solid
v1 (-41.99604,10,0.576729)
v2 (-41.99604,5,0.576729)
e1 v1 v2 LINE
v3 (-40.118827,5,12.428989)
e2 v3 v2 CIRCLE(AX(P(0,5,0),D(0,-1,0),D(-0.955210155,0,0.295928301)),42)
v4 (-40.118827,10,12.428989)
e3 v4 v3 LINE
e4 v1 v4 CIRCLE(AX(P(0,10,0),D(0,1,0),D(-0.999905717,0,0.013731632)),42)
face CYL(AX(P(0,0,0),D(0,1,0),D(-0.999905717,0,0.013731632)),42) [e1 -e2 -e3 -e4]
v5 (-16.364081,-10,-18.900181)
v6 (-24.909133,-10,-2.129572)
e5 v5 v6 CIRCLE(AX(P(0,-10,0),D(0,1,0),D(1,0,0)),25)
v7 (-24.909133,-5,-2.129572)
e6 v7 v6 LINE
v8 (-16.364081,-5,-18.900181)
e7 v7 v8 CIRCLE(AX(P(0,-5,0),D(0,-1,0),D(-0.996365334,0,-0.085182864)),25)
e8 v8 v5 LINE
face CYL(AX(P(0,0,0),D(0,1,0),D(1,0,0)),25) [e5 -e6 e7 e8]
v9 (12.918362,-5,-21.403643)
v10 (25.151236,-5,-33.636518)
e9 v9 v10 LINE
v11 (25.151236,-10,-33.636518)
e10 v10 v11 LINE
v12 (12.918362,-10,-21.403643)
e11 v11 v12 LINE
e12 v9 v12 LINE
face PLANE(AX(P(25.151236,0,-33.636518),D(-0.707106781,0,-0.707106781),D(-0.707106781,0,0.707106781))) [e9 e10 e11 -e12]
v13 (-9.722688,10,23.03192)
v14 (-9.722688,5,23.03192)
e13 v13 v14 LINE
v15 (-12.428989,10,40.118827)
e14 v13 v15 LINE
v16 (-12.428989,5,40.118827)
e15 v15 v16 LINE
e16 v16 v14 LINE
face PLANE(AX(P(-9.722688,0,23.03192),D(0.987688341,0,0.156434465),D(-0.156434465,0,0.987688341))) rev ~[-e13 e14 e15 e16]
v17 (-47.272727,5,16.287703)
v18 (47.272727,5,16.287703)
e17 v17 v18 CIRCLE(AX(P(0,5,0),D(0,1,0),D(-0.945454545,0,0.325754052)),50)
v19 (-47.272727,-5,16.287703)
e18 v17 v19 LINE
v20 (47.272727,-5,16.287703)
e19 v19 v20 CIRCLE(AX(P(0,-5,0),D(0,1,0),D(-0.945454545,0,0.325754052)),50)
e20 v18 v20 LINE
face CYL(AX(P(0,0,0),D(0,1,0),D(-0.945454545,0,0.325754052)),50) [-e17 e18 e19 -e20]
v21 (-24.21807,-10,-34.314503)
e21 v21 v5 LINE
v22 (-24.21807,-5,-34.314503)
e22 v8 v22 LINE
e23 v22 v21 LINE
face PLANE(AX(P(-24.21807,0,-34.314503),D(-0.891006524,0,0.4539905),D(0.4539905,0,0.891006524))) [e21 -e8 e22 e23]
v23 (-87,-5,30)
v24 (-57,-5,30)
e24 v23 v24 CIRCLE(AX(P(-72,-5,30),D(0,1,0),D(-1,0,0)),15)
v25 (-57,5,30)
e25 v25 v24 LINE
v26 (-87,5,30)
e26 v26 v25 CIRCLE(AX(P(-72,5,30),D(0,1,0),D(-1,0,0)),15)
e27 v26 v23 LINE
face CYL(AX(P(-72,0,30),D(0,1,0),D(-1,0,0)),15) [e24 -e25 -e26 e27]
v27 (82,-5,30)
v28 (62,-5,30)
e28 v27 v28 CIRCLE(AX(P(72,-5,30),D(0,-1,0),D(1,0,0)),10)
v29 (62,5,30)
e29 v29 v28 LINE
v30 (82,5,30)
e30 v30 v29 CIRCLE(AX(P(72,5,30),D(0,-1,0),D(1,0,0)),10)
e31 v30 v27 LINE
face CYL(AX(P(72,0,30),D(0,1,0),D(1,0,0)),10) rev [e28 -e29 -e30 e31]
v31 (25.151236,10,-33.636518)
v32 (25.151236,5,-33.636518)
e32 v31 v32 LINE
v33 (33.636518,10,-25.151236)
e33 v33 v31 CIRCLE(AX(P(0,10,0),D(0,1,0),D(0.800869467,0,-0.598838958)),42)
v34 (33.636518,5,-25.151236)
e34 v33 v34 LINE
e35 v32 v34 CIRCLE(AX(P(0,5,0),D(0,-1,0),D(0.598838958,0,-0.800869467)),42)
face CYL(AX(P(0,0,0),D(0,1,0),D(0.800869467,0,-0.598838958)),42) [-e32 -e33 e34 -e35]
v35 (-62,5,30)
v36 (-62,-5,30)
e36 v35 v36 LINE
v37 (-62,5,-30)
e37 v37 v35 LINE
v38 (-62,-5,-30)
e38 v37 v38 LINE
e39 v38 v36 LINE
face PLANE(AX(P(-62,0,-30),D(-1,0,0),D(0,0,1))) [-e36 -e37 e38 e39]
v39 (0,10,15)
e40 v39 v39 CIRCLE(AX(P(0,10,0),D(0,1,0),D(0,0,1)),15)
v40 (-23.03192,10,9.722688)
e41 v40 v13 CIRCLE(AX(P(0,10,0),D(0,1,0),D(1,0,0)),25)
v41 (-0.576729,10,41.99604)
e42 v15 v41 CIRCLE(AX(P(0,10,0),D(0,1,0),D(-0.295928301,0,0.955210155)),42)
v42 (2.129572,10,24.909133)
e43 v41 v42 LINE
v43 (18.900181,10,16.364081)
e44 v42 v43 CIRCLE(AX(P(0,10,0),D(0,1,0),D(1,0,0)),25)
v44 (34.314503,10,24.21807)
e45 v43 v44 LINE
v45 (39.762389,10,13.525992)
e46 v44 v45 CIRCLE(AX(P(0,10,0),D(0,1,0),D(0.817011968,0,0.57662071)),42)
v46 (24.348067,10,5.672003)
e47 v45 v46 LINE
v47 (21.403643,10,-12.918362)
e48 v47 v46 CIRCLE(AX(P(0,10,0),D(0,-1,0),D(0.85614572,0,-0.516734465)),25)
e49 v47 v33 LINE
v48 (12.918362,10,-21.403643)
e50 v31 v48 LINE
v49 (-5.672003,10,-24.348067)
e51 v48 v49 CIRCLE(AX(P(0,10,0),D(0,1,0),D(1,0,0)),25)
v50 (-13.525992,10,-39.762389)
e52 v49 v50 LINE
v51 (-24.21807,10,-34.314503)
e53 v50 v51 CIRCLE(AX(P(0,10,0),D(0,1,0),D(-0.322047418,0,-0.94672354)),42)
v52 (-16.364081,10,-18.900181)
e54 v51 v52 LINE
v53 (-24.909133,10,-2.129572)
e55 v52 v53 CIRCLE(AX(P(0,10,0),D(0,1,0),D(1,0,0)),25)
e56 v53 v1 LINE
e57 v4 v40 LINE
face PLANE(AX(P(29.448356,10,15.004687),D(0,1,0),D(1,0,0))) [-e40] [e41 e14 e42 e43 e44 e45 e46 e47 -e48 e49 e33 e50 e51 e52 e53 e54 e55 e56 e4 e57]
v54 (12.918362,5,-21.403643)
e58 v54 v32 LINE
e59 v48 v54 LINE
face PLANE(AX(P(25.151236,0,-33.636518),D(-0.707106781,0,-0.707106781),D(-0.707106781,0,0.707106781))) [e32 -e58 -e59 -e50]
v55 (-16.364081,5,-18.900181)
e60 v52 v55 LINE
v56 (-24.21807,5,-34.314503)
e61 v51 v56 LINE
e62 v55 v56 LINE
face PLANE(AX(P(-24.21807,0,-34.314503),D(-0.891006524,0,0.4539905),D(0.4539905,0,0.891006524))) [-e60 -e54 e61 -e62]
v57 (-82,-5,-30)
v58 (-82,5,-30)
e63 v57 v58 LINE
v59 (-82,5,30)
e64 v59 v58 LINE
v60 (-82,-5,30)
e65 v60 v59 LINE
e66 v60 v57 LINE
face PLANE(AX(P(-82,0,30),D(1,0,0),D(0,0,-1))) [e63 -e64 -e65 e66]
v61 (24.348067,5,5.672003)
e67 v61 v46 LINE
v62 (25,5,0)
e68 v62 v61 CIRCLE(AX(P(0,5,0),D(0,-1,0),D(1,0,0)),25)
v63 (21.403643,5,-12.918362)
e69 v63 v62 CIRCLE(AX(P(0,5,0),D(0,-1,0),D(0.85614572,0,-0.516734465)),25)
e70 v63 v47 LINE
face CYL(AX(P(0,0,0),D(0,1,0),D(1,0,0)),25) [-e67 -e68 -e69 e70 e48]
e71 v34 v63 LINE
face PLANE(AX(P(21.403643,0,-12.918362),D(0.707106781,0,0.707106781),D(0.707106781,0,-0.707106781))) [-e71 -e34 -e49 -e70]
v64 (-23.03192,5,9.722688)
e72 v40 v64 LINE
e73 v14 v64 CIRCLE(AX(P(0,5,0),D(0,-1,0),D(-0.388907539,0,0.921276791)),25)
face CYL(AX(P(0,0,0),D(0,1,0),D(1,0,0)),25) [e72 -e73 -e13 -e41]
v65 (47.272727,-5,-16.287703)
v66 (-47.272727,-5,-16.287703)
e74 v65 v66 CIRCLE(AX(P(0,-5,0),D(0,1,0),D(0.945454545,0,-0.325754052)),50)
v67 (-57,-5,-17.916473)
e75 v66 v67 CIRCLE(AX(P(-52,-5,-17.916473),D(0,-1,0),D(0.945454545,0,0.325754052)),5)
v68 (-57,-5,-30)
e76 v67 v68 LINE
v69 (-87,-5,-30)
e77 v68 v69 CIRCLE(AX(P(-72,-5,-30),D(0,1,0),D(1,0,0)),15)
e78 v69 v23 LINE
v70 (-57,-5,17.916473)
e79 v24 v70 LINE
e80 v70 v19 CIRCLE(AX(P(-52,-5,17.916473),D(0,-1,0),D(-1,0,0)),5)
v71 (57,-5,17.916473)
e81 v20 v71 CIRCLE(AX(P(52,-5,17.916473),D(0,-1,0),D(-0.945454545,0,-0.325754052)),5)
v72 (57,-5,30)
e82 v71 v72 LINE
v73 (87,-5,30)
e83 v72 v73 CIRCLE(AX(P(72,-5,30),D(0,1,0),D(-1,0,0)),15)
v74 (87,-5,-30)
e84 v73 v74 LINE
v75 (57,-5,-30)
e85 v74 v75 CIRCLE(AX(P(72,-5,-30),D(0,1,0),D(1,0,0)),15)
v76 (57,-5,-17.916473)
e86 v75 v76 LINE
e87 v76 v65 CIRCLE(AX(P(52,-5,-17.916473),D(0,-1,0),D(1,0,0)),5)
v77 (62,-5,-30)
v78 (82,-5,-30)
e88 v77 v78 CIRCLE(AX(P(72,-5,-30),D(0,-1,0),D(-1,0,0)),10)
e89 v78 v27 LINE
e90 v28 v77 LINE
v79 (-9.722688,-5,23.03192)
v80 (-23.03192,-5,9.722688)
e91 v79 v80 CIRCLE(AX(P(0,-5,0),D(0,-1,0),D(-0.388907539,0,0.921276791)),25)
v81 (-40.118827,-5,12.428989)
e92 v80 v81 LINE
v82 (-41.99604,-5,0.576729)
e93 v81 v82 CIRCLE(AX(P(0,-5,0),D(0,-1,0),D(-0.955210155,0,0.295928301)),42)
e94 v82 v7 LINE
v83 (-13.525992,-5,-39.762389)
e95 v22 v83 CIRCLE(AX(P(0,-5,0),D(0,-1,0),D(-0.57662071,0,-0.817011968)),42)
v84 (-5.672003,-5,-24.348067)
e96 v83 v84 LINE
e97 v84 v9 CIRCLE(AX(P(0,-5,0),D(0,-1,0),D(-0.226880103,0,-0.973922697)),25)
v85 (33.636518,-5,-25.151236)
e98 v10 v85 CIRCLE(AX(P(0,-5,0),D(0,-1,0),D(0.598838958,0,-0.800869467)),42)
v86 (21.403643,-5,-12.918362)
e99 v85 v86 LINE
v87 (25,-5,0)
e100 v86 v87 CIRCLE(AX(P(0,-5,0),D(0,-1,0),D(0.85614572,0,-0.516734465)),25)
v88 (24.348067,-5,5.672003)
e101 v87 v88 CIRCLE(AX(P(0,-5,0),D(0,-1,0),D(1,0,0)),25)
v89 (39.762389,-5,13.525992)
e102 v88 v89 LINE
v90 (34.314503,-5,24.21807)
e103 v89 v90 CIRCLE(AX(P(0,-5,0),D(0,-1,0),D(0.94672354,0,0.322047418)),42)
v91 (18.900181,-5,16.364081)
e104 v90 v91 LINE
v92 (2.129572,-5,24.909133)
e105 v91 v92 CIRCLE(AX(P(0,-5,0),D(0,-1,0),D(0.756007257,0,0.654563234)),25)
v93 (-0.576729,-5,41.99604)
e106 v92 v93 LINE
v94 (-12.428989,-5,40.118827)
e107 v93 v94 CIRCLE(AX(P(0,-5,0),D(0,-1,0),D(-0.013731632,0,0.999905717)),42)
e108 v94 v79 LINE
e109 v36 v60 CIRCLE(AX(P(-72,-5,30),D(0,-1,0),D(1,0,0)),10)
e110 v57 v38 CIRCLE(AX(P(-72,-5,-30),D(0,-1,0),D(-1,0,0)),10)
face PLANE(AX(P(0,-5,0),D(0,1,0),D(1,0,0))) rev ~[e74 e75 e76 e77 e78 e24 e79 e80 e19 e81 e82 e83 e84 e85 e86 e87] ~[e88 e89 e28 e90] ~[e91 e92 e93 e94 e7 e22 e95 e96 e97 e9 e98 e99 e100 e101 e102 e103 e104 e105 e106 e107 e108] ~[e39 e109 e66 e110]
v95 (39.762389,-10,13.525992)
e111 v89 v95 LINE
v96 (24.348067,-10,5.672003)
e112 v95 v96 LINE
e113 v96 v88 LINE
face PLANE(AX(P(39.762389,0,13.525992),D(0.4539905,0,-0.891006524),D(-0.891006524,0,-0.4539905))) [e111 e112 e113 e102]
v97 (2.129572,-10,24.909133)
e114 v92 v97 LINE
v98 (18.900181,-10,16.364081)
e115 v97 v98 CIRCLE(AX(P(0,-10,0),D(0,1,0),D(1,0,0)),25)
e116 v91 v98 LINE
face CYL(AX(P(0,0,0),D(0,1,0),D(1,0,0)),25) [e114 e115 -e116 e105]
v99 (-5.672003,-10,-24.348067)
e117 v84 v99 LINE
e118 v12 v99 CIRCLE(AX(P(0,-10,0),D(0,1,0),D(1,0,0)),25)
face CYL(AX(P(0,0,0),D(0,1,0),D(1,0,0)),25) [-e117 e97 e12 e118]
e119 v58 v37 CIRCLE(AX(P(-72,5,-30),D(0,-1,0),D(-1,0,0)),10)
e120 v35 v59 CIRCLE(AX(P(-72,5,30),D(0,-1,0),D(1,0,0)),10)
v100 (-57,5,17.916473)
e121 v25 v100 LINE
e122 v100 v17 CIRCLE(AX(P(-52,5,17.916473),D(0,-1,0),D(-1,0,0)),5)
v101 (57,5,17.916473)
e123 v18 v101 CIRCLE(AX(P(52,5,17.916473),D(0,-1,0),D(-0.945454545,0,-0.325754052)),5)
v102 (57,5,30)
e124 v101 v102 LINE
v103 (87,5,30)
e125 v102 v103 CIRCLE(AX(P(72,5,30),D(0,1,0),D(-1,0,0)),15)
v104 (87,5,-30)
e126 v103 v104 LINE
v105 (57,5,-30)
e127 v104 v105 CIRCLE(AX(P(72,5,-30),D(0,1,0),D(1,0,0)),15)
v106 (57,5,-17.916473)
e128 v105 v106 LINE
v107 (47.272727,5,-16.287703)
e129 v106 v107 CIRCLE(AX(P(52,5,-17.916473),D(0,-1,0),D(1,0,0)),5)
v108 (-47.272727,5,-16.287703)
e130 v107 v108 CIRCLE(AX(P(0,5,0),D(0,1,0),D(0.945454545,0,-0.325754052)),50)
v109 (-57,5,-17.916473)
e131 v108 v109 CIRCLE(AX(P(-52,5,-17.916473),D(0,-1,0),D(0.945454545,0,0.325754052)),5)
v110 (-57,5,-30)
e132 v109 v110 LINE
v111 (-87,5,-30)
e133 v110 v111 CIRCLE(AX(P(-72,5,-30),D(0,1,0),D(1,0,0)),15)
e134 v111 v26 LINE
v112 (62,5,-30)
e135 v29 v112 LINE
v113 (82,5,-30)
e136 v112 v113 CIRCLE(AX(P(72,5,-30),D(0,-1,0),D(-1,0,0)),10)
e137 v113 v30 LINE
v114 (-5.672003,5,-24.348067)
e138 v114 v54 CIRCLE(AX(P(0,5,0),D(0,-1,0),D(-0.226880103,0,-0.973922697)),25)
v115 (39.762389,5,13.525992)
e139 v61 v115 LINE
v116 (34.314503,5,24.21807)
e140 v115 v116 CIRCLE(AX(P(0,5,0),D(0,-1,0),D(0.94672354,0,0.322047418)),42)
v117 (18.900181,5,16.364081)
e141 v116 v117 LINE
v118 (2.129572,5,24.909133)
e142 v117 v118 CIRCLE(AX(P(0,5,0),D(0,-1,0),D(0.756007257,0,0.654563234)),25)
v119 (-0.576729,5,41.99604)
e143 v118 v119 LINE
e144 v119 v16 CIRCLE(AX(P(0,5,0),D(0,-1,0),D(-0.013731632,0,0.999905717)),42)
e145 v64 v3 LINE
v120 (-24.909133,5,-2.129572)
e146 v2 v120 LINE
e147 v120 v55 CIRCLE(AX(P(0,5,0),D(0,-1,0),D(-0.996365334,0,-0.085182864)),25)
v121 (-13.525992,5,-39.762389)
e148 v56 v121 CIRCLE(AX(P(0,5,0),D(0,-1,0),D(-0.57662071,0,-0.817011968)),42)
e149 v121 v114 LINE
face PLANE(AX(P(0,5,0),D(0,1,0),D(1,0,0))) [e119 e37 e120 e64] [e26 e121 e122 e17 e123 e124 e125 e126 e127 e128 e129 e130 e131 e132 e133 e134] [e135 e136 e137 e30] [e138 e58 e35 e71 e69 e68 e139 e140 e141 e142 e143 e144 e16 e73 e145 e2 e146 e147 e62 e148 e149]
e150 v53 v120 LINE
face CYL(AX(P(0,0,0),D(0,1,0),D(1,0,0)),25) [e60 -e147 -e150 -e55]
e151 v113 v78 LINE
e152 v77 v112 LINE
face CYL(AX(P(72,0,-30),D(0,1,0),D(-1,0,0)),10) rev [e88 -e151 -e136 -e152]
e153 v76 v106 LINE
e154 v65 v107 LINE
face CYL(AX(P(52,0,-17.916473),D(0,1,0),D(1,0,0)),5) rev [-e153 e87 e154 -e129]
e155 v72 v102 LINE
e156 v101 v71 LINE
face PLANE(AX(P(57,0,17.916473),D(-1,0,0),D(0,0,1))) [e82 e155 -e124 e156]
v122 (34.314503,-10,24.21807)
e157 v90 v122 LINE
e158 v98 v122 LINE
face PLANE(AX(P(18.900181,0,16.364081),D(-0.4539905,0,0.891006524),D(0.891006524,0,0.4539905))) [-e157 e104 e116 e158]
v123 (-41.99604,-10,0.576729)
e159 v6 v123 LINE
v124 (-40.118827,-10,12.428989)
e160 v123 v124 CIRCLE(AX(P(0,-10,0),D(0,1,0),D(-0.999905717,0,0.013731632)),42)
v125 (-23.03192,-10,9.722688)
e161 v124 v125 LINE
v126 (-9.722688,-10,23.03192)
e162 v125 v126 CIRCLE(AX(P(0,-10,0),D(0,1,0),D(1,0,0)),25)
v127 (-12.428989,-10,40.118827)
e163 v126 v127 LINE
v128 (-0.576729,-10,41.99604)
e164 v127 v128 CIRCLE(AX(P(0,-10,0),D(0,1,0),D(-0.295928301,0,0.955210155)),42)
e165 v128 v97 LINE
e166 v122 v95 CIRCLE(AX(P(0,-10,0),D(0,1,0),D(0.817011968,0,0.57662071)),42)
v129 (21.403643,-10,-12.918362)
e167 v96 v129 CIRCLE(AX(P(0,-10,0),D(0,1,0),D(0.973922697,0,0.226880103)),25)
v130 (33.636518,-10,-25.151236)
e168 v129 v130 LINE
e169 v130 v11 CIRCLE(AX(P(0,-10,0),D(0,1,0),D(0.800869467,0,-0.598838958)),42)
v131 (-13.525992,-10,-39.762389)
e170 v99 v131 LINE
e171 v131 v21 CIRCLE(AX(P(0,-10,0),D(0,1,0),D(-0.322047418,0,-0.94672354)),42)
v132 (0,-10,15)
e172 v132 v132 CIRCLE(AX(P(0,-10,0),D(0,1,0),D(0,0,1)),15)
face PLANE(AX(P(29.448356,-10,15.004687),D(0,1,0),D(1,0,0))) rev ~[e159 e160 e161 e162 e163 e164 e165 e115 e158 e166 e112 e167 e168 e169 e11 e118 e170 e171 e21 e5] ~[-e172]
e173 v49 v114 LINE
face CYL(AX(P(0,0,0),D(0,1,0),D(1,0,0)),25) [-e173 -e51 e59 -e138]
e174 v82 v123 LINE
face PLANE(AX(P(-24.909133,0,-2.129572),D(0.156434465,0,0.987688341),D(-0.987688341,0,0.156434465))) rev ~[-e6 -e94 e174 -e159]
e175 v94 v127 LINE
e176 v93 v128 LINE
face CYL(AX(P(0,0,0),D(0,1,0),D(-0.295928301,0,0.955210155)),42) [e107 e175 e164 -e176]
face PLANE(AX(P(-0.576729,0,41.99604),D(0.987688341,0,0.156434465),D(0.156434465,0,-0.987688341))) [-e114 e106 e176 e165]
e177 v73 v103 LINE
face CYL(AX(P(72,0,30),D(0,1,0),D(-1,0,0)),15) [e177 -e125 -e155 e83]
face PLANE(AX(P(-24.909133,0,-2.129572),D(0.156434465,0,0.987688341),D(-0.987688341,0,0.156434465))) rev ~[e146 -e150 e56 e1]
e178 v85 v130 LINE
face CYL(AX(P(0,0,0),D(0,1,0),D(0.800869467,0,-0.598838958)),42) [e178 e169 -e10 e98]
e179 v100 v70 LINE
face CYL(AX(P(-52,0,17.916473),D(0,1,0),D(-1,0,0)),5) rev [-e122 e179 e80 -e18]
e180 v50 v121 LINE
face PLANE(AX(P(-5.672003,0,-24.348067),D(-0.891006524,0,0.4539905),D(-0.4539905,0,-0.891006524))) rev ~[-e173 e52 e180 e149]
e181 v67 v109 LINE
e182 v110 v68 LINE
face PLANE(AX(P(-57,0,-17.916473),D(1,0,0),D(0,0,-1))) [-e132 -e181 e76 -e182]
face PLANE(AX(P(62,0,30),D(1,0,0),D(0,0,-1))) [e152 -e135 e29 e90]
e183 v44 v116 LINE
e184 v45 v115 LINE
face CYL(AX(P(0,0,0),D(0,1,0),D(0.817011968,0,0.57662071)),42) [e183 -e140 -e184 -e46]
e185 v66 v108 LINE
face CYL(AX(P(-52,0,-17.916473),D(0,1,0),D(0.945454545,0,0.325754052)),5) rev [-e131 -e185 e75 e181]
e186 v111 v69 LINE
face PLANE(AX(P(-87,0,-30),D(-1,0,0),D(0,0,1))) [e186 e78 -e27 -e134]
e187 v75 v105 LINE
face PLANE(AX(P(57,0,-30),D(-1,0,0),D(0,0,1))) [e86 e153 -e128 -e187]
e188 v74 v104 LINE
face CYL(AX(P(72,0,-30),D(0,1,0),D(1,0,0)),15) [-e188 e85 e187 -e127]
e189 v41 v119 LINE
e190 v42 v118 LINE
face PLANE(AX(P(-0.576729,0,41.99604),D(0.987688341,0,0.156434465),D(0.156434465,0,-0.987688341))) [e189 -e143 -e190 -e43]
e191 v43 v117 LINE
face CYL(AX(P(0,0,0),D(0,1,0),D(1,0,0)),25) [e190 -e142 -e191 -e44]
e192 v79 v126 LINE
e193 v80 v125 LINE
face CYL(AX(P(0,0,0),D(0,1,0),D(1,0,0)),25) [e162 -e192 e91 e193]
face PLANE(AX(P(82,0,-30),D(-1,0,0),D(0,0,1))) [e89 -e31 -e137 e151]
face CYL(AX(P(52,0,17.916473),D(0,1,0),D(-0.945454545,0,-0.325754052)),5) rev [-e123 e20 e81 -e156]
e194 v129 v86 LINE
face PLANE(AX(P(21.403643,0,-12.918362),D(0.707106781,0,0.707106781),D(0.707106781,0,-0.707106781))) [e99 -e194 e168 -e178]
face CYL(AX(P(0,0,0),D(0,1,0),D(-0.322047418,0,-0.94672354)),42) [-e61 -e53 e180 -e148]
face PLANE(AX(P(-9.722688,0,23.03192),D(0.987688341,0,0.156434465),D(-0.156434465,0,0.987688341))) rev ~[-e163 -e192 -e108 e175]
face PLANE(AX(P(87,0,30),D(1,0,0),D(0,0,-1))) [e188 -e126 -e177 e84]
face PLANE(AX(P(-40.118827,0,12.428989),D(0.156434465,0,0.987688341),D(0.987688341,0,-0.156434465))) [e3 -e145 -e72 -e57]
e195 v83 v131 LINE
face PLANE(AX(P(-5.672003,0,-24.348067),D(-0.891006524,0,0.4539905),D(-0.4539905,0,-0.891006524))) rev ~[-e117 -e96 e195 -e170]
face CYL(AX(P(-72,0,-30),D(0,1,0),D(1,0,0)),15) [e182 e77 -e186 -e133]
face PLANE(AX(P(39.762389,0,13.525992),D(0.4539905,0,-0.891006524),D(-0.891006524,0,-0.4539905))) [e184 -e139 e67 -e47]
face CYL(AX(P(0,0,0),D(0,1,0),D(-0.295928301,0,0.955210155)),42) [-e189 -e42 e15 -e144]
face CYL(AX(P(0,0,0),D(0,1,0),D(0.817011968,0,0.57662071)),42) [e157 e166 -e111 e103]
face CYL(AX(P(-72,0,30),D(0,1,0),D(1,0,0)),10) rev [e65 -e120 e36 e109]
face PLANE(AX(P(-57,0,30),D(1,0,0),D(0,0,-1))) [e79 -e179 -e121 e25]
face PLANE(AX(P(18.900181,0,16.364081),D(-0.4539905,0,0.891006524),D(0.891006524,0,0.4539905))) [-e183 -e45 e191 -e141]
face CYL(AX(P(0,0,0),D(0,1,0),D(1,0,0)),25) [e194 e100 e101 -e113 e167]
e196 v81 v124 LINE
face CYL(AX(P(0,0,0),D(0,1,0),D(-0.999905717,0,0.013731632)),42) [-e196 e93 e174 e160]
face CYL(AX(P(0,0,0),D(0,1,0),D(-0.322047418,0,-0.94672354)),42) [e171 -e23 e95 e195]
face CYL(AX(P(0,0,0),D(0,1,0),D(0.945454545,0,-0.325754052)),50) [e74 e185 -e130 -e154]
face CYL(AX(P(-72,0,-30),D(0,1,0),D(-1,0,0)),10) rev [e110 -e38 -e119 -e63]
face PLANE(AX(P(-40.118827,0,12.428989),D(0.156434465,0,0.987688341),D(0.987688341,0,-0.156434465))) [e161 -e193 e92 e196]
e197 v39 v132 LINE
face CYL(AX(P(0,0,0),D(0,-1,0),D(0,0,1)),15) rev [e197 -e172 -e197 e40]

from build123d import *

# Parameters (mm, degrees)
SKETCH1_R           = 15
BOSS_EXTRUDE1_DEPTH = 10
BOSS_EXTRUDE2_DEPTH = 5


with BuildPart() as part:
    # Sketch1 → Boss-Extrude1 (new, symmetric)
    with BuildSketch(Plane(origin=(0, 0, 0), x_dir=(1, 0, 0), z_dir=(0, 1, 0))):
        with BuildLine():
            Line((25.151236226, 33.636517601), (12.918361615, 21.403642989))
            ThreePointArc((12.918361615, 21.403642989), (3.910861626, 24.692208515), (-5.672002568, 24.348067415))
            Line((-5.672002568, 24.348067415), (-13.525991536, 39.762388673))
            ThreePointArc((-13.525991536, 39.762388673), (-19.067600989, 37.422274016), (-24.218069826, 34.314502676))
            Line((-24.218069826, 34.314502676), (-16.364080859, 18.900181419))
            ThreePointArc((-16.364080859, 18.900181419), (-22.275163105, 11.349762493), (-24.90913336, 2.129571608))
            Line((-24.90913336, 2.129571608), (-41.996040101, -0.576728553))
            ThreePointArc((-41.996040101, -0.576728553), (-41.482910305, -6.570247532), (-40.118826521, -12.42898864))
            Line((-40.118826521, -12.42898864), (-23.03191978, -9.722688479))
            ThreePointArc((-23.03191978, -9.722688479), (-17.67766953, -17.67766953), (-9.722688479, -23.03191978))
            Line((-9.722688479, -23.03191978), (-12.42898864, -40.118826521))
            ThreePointArc((-12.42898864, -40.118826521), (-6.570247532, -41.482910305), (-0.576728553, -41.996040101))
            Line((-0.576728553, -41.996040101), (2.129571608, -24.90913336))
            ThreePointArc((2.129571608, -24.90913336), (11.349762493, -22.275163105), (18.900181419, -16.364080859))
            Line((18.900181419, -16.364080859), (34.314502676, -24.218069826))
            ThreePointArc((34.314502676, -24.218069826), (37.422274016, -19.067600989), (39.762388673, -13.525991536))
            Line((39.762388673, -13.525991536), (24.348067415, -5.672002568))
            ThreePointArc((24.348067415, -5.672002568), (24.692208515, 3.910861626), (21.403642989, 12.918361615))
            Line((21.403642989, 12.918361615), (33.636517601, 25.151236226))
            ThreePointArc((33.636517601, 25.151236226), (29.69848481, 29.69848481), (25.151236226, 33.636517601))
        make_face()
        Circle(SKETCH1_R, mode=Mode.SUBTRACT)
    extrude(amount=BOSS_EXTRUDE1_DEPTH, both=True)

    # Sketch1<3> → Boss-Extrude2 (add, symmetric)
    with BuildSketch(Plane(origin=(0, 0, 0), x_dir=(1, 0, 0), z_dir=(0, 1, 0))):
        with BuildLine():
            Line((57, -17.916472867), (57, -30))
            ThreePointArc((57, -30), (72, -45), (87, -30))
            Line((87, -30), (87, 30))
            ThreePointArc((87, 30), (72, 45), (57, 30))
            Line((57, 30), (57, 17.916472867))
            ThreePointArc((57, 17.916472867), (52.825722824, 12.985126011), (47.272727273, 16.287702607))
            ThreePointArc((47.272727273, 16.287702607), (0, 50), (-47.272727273, 16.287702607))
            ThreePointArc((-47.272727273, 16.287702607), (-52.825722824, 12.985126011), (-57, 17.916472867))
            Line((-57, 17.916472867), (-57, 30))
            ThreePointArc((-57, 30), (-72, 45), (-87, 30))
            Line((-87, 30), (-87, -30))
            ThreePointArc((-87, -30), (-72, -45), (-57, -30))
            Line((-57, -30), (-57, -17.916472867))
            ThreePointArc((-57, -17.916472867), (-52.825722824, -12.985126011), (-47.272727273, -16.287702607))
            ThreePointArc((-47.272727273, -16.287702607), (0, -50), (47.272727273, -16.287702607))
            ThreePointArc((47.272727273, -16.287702607), (52.825722824, -12.985126011), (57, -17.916472867))
        make_face()
        with BuildLine():
            Line((-82, -30), (-82, 30))
            ThreePointArc((-82, 30), (-72, 40), (-62, 30))
            Line((-62, 30), (-62, -30))
            ThreePointArc((-62, -30), (-72, -40), (-82, -30))
        make_face(mode=Mode.SUBTRACT)
        with BuildLine():
            Line((33.636517601, 25.151236226), (21.403642989, 12.918361615))
            ThreePointArc((21.403642989, 12.918361615), (24.084134557, 6.704808919), (25, 0))
            ThreePointArc((25, 0), (24.836482092, -2.85467289), (24.348067415, -5.672002568))
            Line((24.348067415, -5.672002568), (39.762388673, -13.525991536))
            ThreePointArc((39.762388673, -13.525991536), (37.422274016, -19.067600989), (34.314502676, -24.218069826))
            Line((34.314502676, -24.218069826), (18.900181419, -16.364080859))
            ThreePointArc((18.900181419, -16.364080859), (11.349762493, -22.275163105), (2.129571608, -24.90913336))
            Line((2.129571608, -24.90913336), (-0.576728553, -41.996040101))
            ThreePointArc((-0.576728553, -41.996040101), (-6.570247532, -41.482910305), (-12.42898864, -40.118826521))
            Line((-12.42898864, -40.118826521), (-9.722688479, -23.03191978))
            ThreePointArc((-9.722688479, -23.03191978), (-17.67766953, -17.67766953), (-23.03191978, -9.722688479))
            Line((-23.03191978, -9.722688479), (-40.118826521, -12.42898864))
            ThreePointArc((-40.118826521, -12.42898864), (-41.482910305, -6.570247532), (-41.996040101, -0.576728553))
            Line((-41.996040101, -0.576728553), (-24.90913336, 2.129571608))
            ThreePointArc((-24.90913336, 2.129571608), (-22.275163105, 11.349762493), (-16.364080859, 18.900181419))
            Line((-16.364080859, 18.900181419), (-24.218069826, 34.314502676))
            ThreePointArc((-24.218069826, 34.314502676), (-19.067600989, 37.422274016), (-13.525991536, 39.762388673))
            Line((-13.525991536, 39.762388673), (-5.672002568, 24.348067415))
            ThreePointArc((-5.672002568, 24.348067415), (3.910861626, 24.692208515), (12.918361615, 21.403642989))
            Line((12.918361615, 21.403642989), (25.151236226, 33.636517601))
            ThreePointArc((25.151236226, 33.636517601), (29.69848481, 29.69848481), (33.636517601, 25.151236226))
        make_face(mode=Mode.SUBTRACT)
        with BuildLine():
            ThreePointArc((62, 30), (72, 40), (82, 30))
            Line((82, 30), (82, -30))
            ThreePointArc((82, -30), (72, -40), (62, -30))
            Line((62, -30), (62, 30))
        make_face(mode=Mode.SUBTRACT)
    extrude(amount=BOSS_EXTRUDE2_DEPTH, both=True)


solid = part.part
